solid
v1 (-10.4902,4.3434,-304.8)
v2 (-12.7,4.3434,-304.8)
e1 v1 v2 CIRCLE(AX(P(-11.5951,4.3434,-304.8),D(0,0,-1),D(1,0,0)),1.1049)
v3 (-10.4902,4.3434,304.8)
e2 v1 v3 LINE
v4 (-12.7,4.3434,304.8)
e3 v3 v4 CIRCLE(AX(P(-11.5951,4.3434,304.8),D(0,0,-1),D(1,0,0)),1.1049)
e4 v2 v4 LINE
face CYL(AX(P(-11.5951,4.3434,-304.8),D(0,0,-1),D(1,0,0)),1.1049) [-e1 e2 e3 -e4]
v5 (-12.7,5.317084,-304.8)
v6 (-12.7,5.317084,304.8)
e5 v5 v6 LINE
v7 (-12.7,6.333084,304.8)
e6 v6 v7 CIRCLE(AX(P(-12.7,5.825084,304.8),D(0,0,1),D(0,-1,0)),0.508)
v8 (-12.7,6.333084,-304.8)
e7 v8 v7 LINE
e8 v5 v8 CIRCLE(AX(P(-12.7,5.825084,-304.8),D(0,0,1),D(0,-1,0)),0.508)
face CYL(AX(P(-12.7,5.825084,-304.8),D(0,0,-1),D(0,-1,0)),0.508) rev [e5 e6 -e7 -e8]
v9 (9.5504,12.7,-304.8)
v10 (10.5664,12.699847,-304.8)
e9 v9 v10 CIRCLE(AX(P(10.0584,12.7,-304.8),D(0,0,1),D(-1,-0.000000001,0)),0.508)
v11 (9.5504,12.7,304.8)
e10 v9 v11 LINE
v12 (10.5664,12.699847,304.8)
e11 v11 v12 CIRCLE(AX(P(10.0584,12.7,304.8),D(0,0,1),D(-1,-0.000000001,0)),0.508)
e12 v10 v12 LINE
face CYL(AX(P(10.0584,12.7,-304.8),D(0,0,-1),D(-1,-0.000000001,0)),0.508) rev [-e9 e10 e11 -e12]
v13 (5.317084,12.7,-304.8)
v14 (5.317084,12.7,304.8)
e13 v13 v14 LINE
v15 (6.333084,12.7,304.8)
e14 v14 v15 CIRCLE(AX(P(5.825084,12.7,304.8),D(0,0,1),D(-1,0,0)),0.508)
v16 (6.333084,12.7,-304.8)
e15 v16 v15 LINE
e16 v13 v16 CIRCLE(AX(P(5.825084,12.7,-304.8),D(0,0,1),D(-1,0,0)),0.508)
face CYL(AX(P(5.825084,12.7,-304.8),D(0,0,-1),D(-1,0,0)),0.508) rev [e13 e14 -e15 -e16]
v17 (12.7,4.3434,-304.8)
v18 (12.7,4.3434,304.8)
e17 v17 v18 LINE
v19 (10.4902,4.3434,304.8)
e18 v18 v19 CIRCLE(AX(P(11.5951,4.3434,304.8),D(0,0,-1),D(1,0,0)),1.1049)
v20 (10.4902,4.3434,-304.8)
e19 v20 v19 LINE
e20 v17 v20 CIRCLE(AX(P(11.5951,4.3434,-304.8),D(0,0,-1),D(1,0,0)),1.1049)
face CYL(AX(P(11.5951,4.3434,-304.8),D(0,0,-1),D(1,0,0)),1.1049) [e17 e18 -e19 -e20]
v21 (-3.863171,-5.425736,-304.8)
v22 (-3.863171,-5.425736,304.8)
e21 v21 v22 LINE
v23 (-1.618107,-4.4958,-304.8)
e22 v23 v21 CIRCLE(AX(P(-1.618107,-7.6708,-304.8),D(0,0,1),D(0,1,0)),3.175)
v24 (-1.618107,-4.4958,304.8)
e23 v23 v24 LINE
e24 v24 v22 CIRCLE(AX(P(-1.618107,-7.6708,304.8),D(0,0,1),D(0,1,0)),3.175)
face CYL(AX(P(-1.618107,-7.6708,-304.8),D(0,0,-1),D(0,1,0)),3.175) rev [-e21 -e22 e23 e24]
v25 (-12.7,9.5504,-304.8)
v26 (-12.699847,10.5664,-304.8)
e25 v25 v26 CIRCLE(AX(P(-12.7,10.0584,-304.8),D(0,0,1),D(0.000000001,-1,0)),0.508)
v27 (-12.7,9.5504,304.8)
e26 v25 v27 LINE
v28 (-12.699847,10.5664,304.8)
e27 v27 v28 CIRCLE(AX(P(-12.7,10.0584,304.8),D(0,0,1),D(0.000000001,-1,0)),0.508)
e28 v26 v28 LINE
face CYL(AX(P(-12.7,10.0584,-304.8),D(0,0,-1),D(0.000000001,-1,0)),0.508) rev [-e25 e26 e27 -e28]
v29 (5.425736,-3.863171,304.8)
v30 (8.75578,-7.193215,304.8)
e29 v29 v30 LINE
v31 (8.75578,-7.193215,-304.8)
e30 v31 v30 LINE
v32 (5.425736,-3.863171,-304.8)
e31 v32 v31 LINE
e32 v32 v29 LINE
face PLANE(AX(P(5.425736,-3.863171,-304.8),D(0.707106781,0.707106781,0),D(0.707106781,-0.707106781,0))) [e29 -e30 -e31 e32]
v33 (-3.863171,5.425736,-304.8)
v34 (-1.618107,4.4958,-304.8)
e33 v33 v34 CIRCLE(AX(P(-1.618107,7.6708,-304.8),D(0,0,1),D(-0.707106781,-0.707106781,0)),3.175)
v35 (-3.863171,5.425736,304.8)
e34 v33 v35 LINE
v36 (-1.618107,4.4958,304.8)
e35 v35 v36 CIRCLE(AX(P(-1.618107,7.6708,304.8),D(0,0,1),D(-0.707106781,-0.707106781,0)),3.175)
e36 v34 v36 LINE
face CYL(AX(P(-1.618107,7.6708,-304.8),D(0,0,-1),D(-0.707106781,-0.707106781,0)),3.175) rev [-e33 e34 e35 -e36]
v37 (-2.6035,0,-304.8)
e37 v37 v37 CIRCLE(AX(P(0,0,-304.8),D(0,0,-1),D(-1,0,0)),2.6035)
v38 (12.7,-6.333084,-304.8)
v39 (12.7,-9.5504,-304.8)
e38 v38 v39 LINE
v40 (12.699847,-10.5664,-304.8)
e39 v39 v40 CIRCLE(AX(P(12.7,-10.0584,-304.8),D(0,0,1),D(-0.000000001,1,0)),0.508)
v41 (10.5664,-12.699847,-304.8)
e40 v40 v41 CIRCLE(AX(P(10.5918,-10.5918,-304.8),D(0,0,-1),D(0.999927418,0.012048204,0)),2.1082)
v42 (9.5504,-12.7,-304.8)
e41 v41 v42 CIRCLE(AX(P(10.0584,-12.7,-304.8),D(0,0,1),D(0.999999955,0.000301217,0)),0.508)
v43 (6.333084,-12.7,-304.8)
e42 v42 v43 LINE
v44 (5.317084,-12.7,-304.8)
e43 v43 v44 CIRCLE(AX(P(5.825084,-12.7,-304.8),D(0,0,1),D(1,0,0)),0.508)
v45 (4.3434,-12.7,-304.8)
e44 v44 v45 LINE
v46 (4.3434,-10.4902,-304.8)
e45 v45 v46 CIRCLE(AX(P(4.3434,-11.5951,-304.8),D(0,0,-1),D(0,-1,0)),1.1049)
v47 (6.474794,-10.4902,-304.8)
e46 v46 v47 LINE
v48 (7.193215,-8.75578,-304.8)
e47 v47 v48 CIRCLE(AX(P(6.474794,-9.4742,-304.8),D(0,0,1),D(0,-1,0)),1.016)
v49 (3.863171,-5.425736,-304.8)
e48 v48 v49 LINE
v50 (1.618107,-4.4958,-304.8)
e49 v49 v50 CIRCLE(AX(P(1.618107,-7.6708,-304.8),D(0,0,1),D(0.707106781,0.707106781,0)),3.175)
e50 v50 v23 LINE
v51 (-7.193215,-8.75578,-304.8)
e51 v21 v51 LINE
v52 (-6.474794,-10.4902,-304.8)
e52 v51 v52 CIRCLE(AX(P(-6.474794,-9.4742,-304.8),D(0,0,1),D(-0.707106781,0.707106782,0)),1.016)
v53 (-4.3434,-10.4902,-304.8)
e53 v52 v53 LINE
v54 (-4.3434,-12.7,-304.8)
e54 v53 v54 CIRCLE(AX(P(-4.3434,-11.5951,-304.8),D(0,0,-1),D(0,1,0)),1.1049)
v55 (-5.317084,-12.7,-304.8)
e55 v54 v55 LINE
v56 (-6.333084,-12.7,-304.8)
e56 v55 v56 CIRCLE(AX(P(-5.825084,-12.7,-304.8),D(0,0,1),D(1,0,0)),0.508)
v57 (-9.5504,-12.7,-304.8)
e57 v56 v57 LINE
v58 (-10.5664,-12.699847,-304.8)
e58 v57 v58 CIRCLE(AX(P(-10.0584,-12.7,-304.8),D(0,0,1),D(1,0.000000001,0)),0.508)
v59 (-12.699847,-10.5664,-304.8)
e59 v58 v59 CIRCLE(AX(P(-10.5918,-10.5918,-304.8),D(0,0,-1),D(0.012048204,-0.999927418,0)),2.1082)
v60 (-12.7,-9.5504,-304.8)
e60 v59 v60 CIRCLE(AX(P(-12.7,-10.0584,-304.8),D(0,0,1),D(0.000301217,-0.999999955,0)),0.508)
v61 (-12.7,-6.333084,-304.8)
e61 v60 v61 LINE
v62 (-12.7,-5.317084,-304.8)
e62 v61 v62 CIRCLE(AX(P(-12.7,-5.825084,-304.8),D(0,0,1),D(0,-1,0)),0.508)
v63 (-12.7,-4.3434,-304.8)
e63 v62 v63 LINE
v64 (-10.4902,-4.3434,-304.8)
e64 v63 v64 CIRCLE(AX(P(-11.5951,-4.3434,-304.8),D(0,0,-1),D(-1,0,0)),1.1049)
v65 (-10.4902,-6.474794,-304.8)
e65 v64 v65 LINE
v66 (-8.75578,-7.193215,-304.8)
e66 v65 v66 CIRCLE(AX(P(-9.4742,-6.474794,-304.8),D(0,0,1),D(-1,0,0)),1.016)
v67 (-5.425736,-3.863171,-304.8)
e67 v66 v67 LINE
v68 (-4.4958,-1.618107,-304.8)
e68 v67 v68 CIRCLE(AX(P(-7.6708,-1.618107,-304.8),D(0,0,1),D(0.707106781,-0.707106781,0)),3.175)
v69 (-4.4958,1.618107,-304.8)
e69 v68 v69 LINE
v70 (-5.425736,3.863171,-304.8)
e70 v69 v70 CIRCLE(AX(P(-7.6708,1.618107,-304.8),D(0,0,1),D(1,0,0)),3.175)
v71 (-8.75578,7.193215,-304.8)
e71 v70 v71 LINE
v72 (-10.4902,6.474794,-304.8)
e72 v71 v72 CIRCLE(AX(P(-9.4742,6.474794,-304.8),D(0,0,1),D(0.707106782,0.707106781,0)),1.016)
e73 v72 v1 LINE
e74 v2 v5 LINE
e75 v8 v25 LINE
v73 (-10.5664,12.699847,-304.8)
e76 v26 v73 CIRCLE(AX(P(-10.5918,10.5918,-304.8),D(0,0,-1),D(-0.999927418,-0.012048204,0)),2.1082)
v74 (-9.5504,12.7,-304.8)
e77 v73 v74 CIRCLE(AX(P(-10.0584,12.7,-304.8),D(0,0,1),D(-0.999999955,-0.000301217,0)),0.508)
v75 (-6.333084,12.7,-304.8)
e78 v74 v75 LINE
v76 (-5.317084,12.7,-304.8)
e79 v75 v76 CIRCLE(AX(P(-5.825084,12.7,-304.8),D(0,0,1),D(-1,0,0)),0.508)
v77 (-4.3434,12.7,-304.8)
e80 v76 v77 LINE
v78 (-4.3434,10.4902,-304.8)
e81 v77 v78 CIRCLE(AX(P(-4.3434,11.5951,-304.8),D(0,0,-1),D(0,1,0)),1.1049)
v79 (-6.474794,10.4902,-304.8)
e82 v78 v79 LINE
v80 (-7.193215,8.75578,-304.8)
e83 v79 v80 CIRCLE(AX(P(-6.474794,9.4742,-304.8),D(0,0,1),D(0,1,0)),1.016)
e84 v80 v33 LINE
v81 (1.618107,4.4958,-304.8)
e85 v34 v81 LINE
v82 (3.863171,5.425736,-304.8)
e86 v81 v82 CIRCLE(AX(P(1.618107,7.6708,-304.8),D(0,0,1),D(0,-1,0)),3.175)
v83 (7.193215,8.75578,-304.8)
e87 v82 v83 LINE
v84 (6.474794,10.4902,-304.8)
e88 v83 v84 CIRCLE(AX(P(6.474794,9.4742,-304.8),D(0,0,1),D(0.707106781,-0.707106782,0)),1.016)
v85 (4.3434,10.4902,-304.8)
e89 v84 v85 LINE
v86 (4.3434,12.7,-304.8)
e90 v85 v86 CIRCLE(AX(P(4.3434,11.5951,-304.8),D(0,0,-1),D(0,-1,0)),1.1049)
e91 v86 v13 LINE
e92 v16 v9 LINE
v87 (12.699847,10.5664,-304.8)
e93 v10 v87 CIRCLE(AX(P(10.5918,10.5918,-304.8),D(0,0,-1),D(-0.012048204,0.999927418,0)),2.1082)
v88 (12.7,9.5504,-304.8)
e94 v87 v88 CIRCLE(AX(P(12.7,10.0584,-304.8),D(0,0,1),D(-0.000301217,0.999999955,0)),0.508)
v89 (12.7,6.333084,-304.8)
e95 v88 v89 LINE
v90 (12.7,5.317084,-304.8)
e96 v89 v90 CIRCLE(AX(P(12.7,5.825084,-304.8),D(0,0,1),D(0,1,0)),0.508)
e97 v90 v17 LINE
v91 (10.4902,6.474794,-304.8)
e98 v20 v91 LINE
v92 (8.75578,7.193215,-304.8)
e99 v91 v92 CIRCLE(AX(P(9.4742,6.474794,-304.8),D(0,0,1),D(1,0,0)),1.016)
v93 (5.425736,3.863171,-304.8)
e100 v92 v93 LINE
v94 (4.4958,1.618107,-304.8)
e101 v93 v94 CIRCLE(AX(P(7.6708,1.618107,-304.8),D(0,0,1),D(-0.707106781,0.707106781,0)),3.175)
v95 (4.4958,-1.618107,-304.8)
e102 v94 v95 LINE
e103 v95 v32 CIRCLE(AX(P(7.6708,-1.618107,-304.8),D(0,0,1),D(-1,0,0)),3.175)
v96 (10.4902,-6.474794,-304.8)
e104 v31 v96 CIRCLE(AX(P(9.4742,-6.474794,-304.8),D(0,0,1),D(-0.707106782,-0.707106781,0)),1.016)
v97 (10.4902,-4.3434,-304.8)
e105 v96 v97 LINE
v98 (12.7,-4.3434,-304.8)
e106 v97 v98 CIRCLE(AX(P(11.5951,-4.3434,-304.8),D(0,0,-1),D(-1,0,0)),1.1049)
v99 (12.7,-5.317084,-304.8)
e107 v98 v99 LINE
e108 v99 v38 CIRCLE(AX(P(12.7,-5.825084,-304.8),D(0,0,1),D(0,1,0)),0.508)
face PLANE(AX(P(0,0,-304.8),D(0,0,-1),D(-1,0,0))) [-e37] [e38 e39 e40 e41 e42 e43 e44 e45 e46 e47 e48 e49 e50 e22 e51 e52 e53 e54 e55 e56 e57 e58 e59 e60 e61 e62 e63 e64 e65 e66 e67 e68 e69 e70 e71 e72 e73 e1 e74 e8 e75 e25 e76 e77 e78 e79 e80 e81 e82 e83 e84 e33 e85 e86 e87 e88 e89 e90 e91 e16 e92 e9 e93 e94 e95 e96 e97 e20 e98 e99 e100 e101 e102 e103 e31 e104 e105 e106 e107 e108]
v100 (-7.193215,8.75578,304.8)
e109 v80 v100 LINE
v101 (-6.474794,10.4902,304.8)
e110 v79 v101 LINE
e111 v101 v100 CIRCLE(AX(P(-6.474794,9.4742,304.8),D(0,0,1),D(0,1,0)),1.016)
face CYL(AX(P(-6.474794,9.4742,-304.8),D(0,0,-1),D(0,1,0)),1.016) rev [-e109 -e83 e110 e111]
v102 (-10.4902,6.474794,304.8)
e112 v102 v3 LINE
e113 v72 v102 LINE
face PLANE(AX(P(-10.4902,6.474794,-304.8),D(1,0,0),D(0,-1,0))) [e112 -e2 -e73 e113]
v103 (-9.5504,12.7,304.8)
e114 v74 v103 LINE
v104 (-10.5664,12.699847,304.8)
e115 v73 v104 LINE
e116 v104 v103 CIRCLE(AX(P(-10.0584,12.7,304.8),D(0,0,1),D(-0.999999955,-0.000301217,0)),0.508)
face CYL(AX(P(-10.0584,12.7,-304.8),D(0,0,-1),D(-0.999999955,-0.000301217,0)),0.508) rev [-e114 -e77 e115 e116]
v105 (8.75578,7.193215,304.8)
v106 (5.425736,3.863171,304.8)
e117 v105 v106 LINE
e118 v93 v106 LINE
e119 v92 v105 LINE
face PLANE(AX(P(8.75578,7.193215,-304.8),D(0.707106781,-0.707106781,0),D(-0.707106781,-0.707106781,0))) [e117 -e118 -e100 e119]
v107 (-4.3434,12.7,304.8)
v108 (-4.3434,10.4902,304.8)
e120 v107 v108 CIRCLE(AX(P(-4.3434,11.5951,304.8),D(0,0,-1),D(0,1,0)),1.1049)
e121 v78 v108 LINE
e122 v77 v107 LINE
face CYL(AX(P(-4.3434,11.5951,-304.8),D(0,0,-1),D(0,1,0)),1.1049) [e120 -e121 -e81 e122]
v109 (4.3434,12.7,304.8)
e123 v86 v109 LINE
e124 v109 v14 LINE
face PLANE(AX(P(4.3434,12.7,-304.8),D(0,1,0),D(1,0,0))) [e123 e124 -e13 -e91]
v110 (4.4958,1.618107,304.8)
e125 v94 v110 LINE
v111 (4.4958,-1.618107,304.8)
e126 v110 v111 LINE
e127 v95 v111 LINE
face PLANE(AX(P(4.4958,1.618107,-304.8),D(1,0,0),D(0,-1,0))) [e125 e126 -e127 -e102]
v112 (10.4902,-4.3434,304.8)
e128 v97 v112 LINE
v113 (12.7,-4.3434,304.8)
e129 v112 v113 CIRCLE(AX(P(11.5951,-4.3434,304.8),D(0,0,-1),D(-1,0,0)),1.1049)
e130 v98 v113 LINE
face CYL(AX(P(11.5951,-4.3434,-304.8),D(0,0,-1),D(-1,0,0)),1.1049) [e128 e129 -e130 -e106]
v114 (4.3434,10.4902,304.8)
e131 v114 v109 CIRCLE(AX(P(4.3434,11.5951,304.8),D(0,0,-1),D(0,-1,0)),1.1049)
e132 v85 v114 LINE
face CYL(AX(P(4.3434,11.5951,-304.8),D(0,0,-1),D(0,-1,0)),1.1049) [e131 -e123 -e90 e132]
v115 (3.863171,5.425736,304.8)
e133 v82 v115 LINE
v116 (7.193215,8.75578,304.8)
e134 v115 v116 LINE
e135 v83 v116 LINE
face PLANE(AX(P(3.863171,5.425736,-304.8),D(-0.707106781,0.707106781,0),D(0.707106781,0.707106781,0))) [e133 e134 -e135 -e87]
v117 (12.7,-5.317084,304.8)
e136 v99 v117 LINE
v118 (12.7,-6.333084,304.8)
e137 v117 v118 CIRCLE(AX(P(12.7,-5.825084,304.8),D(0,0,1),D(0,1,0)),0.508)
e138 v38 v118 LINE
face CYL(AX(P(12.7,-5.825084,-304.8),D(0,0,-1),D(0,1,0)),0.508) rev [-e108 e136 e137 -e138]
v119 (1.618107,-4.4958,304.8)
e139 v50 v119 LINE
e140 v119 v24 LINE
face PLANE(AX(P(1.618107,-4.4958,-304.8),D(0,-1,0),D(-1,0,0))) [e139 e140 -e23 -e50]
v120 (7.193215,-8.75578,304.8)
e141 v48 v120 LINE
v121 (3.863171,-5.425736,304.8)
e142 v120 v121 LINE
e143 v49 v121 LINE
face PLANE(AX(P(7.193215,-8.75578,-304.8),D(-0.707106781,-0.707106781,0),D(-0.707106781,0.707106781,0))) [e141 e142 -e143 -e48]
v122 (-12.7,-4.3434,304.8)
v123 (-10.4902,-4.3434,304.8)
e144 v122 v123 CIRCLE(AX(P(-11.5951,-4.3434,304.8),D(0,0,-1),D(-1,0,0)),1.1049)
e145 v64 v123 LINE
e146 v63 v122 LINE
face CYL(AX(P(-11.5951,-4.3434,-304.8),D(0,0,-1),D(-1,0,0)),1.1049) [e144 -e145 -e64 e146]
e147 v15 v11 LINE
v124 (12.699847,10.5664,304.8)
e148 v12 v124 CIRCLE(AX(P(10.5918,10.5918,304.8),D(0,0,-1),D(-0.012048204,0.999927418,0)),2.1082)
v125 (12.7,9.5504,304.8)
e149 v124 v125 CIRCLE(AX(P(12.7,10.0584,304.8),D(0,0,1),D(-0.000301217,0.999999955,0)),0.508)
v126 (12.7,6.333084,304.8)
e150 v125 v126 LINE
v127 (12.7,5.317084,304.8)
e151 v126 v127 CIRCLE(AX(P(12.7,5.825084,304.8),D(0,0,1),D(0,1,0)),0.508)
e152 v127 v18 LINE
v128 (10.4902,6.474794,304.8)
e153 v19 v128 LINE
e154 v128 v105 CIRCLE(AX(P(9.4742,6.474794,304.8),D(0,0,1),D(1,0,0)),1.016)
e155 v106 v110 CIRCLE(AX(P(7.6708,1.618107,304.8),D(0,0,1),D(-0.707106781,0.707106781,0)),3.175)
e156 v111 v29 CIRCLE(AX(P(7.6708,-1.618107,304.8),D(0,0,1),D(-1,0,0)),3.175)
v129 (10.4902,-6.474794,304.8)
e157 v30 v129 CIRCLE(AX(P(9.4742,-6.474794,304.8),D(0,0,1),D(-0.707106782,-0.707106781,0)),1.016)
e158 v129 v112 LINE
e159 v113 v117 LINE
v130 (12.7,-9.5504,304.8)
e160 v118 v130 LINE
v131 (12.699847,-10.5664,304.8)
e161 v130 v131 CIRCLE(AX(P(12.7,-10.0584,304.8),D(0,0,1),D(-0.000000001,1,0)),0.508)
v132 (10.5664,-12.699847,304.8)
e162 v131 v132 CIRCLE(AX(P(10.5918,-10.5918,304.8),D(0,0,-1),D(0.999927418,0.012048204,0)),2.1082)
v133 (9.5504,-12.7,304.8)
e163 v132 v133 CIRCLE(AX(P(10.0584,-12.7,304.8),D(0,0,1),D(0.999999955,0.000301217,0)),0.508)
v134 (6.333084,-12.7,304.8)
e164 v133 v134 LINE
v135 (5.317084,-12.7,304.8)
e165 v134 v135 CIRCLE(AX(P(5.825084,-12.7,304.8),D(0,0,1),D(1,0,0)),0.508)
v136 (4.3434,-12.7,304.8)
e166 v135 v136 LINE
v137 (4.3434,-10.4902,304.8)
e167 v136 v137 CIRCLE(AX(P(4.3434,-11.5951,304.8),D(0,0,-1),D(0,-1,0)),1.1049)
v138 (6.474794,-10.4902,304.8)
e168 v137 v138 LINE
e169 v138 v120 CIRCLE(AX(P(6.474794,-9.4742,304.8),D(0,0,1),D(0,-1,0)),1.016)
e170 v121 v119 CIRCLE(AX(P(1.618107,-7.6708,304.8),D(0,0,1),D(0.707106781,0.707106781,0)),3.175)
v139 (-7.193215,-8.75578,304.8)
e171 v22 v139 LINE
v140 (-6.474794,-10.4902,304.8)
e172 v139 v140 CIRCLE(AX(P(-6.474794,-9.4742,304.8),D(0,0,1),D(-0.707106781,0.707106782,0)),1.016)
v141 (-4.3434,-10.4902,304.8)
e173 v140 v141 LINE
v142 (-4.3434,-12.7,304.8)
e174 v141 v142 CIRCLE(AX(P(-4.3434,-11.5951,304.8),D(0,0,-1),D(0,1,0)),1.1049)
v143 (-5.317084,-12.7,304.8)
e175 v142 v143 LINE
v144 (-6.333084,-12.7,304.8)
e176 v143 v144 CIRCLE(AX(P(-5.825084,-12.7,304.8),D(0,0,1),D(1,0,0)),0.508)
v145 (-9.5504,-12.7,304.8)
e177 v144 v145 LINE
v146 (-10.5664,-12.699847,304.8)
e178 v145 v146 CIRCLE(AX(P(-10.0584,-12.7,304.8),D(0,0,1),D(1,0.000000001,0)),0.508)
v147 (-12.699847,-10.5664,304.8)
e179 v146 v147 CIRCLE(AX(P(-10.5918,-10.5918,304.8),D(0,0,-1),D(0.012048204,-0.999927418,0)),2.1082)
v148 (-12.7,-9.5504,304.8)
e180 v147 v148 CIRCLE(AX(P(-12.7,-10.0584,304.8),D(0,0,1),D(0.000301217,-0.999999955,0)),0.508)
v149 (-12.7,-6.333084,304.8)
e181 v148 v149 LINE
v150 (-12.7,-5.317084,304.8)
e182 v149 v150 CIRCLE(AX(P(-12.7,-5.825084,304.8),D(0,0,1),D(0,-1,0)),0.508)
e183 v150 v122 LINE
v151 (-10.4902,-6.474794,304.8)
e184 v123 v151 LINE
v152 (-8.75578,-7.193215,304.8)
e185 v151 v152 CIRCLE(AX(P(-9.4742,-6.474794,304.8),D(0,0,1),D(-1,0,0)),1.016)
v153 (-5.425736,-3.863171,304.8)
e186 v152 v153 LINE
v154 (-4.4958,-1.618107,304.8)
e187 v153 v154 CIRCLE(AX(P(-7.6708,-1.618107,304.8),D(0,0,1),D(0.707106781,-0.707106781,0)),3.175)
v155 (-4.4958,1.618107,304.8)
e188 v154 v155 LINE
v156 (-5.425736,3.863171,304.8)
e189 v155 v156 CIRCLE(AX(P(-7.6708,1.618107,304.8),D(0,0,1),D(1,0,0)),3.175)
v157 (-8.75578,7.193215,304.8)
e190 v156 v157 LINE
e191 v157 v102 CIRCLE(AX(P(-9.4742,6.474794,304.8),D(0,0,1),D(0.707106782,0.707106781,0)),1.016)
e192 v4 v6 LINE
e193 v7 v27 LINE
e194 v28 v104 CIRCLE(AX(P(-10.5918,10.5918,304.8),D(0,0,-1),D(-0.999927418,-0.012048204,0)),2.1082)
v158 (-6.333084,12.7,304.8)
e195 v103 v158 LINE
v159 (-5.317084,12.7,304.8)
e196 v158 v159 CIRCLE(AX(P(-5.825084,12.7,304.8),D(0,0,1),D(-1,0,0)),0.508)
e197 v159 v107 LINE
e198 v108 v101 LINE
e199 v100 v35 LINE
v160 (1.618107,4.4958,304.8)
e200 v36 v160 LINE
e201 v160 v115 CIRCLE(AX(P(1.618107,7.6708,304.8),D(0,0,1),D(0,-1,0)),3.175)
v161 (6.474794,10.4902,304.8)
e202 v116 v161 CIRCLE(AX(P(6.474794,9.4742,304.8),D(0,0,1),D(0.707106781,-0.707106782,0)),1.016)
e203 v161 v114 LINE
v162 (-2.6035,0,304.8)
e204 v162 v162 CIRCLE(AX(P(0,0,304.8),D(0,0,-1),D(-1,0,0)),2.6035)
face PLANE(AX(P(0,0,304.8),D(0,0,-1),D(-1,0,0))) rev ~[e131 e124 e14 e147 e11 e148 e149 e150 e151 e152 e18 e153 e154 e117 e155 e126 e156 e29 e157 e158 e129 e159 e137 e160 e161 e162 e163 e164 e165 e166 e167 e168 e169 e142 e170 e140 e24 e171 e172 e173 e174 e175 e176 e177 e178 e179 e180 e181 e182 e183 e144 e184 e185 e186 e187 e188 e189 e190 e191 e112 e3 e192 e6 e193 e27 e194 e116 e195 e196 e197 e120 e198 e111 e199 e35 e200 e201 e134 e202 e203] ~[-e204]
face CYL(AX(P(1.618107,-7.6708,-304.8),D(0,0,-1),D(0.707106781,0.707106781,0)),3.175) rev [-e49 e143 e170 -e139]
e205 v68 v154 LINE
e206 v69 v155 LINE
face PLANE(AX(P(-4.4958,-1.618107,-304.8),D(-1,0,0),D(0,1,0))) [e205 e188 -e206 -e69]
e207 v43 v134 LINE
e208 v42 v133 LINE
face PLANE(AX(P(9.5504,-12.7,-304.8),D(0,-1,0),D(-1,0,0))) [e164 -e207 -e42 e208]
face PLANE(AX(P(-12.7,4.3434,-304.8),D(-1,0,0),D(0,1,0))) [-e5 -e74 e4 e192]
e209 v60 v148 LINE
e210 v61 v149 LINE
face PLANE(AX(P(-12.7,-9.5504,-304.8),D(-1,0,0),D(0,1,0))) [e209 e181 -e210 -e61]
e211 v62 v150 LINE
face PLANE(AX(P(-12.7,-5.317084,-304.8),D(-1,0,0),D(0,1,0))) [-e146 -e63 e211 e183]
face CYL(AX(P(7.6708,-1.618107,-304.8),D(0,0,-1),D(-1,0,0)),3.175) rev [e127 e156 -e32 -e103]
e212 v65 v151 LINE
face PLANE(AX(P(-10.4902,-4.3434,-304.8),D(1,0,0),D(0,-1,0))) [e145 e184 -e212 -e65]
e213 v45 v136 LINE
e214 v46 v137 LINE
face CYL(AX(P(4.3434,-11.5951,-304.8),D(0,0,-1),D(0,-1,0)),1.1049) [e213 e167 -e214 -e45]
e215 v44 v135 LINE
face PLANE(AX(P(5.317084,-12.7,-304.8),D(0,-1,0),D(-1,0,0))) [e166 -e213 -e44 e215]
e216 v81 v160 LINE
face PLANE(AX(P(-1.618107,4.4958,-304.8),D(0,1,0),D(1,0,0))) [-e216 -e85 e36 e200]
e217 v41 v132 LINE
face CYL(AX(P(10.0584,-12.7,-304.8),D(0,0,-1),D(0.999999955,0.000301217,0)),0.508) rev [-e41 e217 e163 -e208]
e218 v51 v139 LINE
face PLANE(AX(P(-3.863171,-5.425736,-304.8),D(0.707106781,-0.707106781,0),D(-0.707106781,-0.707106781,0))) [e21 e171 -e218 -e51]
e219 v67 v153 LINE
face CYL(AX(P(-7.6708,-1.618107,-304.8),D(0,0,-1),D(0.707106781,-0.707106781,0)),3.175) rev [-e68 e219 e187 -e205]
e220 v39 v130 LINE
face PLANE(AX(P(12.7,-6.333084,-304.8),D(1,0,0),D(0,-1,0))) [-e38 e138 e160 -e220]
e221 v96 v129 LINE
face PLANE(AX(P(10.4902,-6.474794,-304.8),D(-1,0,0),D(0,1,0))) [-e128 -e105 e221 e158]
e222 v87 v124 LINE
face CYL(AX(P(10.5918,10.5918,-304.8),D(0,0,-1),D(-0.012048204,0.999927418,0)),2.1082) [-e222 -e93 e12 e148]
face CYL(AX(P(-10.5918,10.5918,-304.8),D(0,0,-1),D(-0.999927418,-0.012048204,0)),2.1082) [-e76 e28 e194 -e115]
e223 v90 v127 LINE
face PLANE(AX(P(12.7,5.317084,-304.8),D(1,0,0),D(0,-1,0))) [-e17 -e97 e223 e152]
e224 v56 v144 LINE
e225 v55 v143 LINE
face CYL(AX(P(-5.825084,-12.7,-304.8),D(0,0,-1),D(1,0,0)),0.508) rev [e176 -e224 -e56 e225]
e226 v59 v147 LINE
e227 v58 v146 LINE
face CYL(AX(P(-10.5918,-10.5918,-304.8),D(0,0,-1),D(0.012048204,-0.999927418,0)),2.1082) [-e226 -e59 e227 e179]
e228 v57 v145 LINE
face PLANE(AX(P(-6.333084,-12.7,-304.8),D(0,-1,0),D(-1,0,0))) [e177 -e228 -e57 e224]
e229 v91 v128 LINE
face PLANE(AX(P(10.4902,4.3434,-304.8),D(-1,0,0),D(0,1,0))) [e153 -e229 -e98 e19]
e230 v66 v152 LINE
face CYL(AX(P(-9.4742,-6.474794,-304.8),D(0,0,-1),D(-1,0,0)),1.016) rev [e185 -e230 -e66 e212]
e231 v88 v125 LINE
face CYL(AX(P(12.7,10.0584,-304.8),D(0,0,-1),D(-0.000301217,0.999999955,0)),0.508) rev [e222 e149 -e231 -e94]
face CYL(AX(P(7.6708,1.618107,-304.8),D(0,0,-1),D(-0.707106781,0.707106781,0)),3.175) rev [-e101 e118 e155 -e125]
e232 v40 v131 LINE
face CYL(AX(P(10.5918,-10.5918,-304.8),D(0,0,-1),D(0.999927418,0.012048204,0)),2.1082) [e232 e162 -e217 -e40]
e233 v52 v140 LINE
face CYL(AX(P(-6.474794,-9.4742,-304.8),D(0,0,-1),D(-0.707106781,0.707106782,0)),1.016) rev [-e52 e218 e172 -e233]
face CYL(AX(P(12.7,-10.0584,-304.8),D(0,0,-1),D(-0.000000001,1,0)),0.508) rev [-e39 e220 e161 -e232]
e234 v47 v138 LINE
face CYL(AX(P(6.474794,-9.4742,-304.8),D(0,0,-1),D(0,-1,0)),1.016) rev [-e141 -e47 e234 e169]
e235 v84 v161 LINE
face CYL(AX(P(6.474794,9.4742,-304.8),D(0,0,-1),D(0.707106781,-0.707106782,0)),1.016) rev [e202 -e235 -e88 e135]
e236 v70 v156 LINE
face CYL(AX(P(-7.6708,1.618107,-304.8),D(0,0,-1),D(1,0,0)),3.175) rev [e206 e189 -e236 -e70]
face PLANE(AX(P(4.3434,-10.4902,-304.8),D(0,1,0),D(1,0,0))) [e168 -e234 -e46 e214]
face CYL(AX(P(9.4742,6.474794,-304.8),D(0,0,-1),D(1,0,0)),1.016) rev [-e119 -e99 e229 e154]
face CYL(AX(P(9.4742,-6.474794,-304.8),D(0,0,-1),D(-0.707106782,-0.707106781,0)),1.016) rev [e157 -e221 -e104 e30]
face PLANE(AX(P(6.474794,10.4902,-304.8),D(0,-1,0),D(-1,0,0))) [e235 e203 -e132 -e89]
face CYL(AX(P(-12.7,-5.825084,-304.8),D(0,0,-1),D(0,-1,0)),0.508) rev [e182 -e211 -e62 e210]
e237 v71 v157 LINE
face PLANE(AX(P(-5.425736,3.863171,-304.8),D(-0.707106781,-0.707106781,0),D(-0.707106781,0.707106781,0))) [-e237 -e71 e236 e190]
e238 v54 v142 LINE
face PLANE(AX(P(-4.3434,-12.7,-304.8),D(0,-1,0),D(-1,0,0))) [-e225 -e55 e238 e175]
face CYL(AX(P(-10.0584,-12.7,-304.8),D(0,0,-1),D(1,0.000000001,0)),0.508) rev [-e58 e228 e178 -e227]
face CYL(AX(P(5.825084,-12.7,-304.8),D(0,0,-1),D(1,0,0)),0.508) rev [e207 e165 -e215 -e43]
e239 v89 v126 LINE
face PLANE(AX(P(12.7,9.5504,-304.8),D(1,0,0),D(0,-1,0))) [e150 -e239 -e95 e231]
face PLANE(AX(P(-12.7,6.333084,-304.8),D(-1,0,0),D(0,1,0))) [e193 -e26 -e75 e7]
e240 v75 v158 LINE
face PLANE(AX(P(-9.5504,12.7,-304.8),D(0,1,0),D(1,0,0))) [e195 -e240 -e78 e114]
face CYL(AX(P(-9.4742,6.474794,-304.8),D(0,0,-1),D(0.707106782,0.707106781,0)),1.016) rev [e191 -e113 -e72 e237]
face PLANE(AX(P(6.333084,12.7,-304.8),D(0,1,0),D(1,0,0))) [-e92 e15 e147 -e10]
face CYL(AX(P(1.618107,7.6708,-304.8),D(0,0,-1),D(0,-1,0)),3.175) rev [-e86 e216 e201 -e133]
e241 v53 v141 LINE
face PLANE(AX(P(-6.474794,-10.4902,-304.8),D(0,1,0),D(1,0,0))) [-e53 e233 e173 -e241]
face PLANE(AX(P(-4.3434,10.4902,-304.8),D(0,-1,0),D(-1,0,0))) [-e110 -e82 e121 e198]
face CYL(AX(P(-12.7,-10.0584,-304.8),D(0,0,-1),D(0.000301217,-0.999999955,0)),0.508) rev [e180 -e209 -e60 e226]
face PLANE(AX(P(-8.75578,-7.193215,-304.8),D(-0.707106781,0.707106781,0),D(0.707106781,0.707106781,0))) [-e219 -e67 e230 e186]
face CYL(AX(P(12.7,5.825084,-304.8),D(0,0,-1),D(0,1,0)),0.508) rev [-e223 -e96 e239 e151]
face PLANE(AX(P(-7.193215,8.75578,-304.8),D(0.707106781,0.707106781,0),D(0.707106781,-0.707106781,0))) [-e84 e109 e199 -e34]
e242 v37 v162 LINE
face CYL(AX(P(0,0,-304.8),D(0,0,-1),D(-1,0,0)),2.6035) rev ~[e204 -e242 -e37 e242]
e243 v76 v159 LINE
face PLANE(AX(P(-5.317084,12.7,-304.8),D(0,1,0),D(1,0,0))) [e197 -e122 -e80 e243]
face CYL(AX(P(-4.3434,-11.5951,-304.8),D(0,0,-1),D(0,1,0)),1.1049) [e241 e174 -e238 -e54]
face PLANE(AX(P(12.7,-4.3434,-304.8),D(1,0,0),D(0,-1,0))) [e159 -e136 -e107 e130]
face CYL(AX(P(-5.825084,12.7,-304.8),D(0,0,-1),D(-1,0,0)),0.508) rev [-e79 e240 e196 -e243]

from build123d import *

# Parameters (mm, degrees)
SKETCH1_R           = 2.6035
BOSS_EXTRUDE1_DEPTH = 609.6


with BuildPart() as part:
    # Sketch1 → Boss-Extrude1 (new body)
    with BuildSketch(Plane(origin=(0, 0, -304.8), x_dir=(-1, 0, 0), z_dir=(0, 0, -1))):
        with BuildLine():
            Line((12.7, -9.5504), (12.7, -6.3330836))
            ThreePointArc((12.7, -6.3330836), (12.192, -5.8250836), (12.7, -5.3170836))
            Line((12.7, -5.3170836), (12.7, -4.3434))
            ThreePointArc((12.7, -4.3434), (11.5951, -3.2385), (10.4902, -4.3434))
            Line((10.4902, -4.3434), (10.4902, -6.474794456))
            ThreePointArc((10.4902, -6.474794456), (9.863006367, -7.413456061), (8.75577951, -7.193214945))
            Line((8.75577951, -7.193214945), (5.42573597, -3.863171405))
            ThreePointArc((5.42573597, -3.863171405), (4.737482484, -2.833127272), (4.4958, -1.618107374))
            Line((4.4958, -1.618107374), (4.4958, 1.618107374))
            ThreePointArc((4.4958, 1.618107374), (4.737482484, 2.833127272), (5.42573597, 3.863171405))
            Line((5.42573597, 3.863171405), (8.75577951, 7.193214945))
            ThreePointArc((8.75577951, 7.193214945), (9.863006367, 7.413456061), (10.4902, 6.474794456))
            Line((10.4902, 6.474794456), (10.4902, 4.343399971))
            ThreePointArc((10.4902, 4.343399971), (11.5951, 3.238499971), (12.7, 4.343399971))
            Line((12.7, 4.343399971), (12.7, 5.3170836))
            ThreePointArc((12.7, 5.3170836), (12.192, 5.8250836), (12.7, 6.3330836))
            Line((12.7, 6.3330836), (12.7, 9.5504))
            ThreePointArc((12.7, 9.5504), (12.192000006, 10.058323491), (12.699846982, 10.566399977))
            ThreePointArc((12.699846982, 10.566399977), (12.082522516, 12.082522516), (10.566399977, 12.699846982))
            ThreePointArc((10.566399977, 12.699846982), (10.058323491, 12.192000006), (9.5504, 12.7))
            Line((9.5504, 12.7), (6.3330836, 12.7))
            ThreePointArc((6.3330836, 12.7), (5.8250836, 12.192), (5.3170836, 12.7))
            Line((5.3170836, 12.7), (4.3434, 12.7))
            ThreePointArc((4.3434, 12.7), (3.2385, 11.5951), (4.3434, 10.4902))
            Line((4.3434, 10.4902), (6.474794456, 10.4902))
            ThreePointArc((6.474794456, 10.4902), (7.413456061, 9.863006367), (7.193214945, 8.75577951))
            Line((7.193214945, 8.75577951), (3.863171405, 5.42573597))
            ThreePointArc((3.863171405, 5.42573597), (2.833127272, 4.737482484), (1.618107374, 4.4958))
            Line((1.618107374, 4.4958), (-1.618107374, 4.4958))
            ThreePointArc((-1.618107374, 4.4958), (-2.833127272, 4.737482484), (-3.863171405, 5.42573597))
            Line((-3.863171405, 5.42573597), (-7.193214945, 8.75577951))
            ThreePointArc((-7.193214945, 8.75577951), (-7.413456061, 9.863006367), (-6.474794456, 10.4902))
            Line((-6.474794456, 10.4902), (-4.343399971, 10.4902))
            ThreePointArc((-4.343399971, 10.4902), (-3.238499971, 11.5951), (-4.343399971, 12.7))
            Line((-4.343399971, 12.7), (-5.3170836, 12.7))
            ThreePointArc((-5.3170836, 12.7), (-5.8250836, 12.192), (-6.3330836, 12.7))
            Line((-6.3330836, 12.7), (-9.5504, 12.7))
            ThreePointArc((-9.5504, 12.7), (-10.058323491, 12.192000006), (-10.566399977, 12.699846982))
            ThreePointArc((-10.566399977, 12.699846982), (-12.082522516, 12.082522516), (-12.699846982, 10.566399977))
            ThreePointArc((-12.699846982, 10.566399977), (-12.192000006, 10.058323491), (-12.7, 9.5504))
            Line((-12.7, 9.5504), (-12.7, 6.3330836))
            ThreePointArc((-12.7, 6.3330836), (-12.192, 5.8250836), (-12.7, 5.3170836))
            Line((-12.7, 5.3170836), (-12.7, 4.3434))
            ThreePointArc((-12.7, 4.3434), (-11.5951, 3.2385), (-10.4902, 4.3434))
            Line((-10.4902, 4.3434), (-10.4902, 6.474794456))
            ThreePointArc((-10.4902, 6.474794456), (-9.863006367, 7.413456061), (-8.75577951, 7.193214945))
            Line((-8.75577951, 7.193214945), (-5.42573597, 3.863171405))
            ThreePointArc((-5.42573597, 3.863171405), (-4.737482484, 2.833127272), (-4.4958, 1.618107374))
            Line((-4.4958, 1.618107374), (-4.4958, -1.618107374))
            ThreePointArc((-4.4958, -1.618107374), (-4.737482484, -2.833127272), (-5.42573597, -3.863171405))
            Line((-5.42573597, -3.863171405), (-8.75577951, -7.193214945))
            ThreePointArc((-8.75577951, -7.193214945), (-9.863006367, -7.413456061), (-10.4902, -6.474794456))
            Line((-10.4902, -6.474794456), (-10.4902, -4.343399971))
            ThreePointArc((-10.4902, -4.343399971), (-11.5951, -3.238499971), (-12.7, -4.343399971))
            Line((-12.7, -4.343399971), (-12.7, -5.3170836))
            ThreePointArc((-12.7, -5.3170836), (-12.192, -5.8250836), (-12.7, -6.3330836))
            Line((-12.7, -6.3330836), (-12.7, -9.5504))
            ThreePointArc((-12.7, -9.5504), (-12.192000006, -10.058323491), (-12.699846982, -10.566399977))
            ThreePointArc((-12.699846982, -10.566399977), (-12.082522516, -12.082522516), (-10.566399977, -12.699846982))
            ThreePointArc((-10.566399977, -12.699846982), (-10.058323491, -12.192000006), (-9.5504, -12.7))
            Line((-9.5504, -12.7), (-6.3330836, -12.7))
            ThreePointArc((-6.3330836, -12.7), (-5.8250836, -12.192), (-5.3170836, -12.7))
            Line((-5.3170836, -12.7), (-4.3434, -12.7))
            ThreePointArc((-4.3434, -12.7), (-3.2385, -11.5951), (-4.3434, -10.4902))
            Line((-4.3434, -10.4902), (-6.474794456, -10.4902))
            ThreePointArc((-6.474794456, -10.4902), (-7.413456061, -9.863006367), (-7.193214945, -8.75577951))
            Line((-7.193214945, -8.75577951), (-3.863171405, -5.42573597))
            ThreePointArc((-3.863171405, -5.42573597), (-2.833127272, -4.737482484), (-1.618107374, -4.4958))
            Line((-1.618107374, -4.4958), (1.618107374, -4.4958))
            ThreePointArc((1.618107374, -4.4958), (2.833127272, -4.737482484), (3.863171405, -5.42573597))
            Line((3.863171405, -5.42573597), (7.193214945, -8.75577951))
            ThreePointArc((7.193214945, -8.75577951), (7.413456061, -9.863006367), (6.474794456, -10.4902))
            Line((6.474794456, -10.4902), (4.343399971, -10.4902))
            ThreePointArc((4.343399971, -10.4902), (3.238499971, -11.5951), (4.343399971, -12.7))
            Line((4.343399971, -12.7), (5.3170836, -12.7))
            ThreePointArc((5.3170836, -12.7), (5.8250836, -12.192), (6.3330836, -12.7))
            Line((6.3330836, -12.7), (9.5504, -12.7))
            ThreePointArc((9.5504, -12.7), (10.058323491, -12.192000006), (10.566399977, -12.699846982))
            ThreePointArc((10.566399977, -12.699846982), (12.082522516, -12.082522516), (12.699846982, -10.566399977))
            ThreePointArc((12.699846982, -10.566399977), (12.192000006, -10.058323491), (12.7, -9.5504))
        make_face()
        Circle(SKETCH1_R, mode=Mode.SUBTRACT)
    extrude(amount=-BOSS_EXTRUDE1_DEPTH)


solid = part.part
